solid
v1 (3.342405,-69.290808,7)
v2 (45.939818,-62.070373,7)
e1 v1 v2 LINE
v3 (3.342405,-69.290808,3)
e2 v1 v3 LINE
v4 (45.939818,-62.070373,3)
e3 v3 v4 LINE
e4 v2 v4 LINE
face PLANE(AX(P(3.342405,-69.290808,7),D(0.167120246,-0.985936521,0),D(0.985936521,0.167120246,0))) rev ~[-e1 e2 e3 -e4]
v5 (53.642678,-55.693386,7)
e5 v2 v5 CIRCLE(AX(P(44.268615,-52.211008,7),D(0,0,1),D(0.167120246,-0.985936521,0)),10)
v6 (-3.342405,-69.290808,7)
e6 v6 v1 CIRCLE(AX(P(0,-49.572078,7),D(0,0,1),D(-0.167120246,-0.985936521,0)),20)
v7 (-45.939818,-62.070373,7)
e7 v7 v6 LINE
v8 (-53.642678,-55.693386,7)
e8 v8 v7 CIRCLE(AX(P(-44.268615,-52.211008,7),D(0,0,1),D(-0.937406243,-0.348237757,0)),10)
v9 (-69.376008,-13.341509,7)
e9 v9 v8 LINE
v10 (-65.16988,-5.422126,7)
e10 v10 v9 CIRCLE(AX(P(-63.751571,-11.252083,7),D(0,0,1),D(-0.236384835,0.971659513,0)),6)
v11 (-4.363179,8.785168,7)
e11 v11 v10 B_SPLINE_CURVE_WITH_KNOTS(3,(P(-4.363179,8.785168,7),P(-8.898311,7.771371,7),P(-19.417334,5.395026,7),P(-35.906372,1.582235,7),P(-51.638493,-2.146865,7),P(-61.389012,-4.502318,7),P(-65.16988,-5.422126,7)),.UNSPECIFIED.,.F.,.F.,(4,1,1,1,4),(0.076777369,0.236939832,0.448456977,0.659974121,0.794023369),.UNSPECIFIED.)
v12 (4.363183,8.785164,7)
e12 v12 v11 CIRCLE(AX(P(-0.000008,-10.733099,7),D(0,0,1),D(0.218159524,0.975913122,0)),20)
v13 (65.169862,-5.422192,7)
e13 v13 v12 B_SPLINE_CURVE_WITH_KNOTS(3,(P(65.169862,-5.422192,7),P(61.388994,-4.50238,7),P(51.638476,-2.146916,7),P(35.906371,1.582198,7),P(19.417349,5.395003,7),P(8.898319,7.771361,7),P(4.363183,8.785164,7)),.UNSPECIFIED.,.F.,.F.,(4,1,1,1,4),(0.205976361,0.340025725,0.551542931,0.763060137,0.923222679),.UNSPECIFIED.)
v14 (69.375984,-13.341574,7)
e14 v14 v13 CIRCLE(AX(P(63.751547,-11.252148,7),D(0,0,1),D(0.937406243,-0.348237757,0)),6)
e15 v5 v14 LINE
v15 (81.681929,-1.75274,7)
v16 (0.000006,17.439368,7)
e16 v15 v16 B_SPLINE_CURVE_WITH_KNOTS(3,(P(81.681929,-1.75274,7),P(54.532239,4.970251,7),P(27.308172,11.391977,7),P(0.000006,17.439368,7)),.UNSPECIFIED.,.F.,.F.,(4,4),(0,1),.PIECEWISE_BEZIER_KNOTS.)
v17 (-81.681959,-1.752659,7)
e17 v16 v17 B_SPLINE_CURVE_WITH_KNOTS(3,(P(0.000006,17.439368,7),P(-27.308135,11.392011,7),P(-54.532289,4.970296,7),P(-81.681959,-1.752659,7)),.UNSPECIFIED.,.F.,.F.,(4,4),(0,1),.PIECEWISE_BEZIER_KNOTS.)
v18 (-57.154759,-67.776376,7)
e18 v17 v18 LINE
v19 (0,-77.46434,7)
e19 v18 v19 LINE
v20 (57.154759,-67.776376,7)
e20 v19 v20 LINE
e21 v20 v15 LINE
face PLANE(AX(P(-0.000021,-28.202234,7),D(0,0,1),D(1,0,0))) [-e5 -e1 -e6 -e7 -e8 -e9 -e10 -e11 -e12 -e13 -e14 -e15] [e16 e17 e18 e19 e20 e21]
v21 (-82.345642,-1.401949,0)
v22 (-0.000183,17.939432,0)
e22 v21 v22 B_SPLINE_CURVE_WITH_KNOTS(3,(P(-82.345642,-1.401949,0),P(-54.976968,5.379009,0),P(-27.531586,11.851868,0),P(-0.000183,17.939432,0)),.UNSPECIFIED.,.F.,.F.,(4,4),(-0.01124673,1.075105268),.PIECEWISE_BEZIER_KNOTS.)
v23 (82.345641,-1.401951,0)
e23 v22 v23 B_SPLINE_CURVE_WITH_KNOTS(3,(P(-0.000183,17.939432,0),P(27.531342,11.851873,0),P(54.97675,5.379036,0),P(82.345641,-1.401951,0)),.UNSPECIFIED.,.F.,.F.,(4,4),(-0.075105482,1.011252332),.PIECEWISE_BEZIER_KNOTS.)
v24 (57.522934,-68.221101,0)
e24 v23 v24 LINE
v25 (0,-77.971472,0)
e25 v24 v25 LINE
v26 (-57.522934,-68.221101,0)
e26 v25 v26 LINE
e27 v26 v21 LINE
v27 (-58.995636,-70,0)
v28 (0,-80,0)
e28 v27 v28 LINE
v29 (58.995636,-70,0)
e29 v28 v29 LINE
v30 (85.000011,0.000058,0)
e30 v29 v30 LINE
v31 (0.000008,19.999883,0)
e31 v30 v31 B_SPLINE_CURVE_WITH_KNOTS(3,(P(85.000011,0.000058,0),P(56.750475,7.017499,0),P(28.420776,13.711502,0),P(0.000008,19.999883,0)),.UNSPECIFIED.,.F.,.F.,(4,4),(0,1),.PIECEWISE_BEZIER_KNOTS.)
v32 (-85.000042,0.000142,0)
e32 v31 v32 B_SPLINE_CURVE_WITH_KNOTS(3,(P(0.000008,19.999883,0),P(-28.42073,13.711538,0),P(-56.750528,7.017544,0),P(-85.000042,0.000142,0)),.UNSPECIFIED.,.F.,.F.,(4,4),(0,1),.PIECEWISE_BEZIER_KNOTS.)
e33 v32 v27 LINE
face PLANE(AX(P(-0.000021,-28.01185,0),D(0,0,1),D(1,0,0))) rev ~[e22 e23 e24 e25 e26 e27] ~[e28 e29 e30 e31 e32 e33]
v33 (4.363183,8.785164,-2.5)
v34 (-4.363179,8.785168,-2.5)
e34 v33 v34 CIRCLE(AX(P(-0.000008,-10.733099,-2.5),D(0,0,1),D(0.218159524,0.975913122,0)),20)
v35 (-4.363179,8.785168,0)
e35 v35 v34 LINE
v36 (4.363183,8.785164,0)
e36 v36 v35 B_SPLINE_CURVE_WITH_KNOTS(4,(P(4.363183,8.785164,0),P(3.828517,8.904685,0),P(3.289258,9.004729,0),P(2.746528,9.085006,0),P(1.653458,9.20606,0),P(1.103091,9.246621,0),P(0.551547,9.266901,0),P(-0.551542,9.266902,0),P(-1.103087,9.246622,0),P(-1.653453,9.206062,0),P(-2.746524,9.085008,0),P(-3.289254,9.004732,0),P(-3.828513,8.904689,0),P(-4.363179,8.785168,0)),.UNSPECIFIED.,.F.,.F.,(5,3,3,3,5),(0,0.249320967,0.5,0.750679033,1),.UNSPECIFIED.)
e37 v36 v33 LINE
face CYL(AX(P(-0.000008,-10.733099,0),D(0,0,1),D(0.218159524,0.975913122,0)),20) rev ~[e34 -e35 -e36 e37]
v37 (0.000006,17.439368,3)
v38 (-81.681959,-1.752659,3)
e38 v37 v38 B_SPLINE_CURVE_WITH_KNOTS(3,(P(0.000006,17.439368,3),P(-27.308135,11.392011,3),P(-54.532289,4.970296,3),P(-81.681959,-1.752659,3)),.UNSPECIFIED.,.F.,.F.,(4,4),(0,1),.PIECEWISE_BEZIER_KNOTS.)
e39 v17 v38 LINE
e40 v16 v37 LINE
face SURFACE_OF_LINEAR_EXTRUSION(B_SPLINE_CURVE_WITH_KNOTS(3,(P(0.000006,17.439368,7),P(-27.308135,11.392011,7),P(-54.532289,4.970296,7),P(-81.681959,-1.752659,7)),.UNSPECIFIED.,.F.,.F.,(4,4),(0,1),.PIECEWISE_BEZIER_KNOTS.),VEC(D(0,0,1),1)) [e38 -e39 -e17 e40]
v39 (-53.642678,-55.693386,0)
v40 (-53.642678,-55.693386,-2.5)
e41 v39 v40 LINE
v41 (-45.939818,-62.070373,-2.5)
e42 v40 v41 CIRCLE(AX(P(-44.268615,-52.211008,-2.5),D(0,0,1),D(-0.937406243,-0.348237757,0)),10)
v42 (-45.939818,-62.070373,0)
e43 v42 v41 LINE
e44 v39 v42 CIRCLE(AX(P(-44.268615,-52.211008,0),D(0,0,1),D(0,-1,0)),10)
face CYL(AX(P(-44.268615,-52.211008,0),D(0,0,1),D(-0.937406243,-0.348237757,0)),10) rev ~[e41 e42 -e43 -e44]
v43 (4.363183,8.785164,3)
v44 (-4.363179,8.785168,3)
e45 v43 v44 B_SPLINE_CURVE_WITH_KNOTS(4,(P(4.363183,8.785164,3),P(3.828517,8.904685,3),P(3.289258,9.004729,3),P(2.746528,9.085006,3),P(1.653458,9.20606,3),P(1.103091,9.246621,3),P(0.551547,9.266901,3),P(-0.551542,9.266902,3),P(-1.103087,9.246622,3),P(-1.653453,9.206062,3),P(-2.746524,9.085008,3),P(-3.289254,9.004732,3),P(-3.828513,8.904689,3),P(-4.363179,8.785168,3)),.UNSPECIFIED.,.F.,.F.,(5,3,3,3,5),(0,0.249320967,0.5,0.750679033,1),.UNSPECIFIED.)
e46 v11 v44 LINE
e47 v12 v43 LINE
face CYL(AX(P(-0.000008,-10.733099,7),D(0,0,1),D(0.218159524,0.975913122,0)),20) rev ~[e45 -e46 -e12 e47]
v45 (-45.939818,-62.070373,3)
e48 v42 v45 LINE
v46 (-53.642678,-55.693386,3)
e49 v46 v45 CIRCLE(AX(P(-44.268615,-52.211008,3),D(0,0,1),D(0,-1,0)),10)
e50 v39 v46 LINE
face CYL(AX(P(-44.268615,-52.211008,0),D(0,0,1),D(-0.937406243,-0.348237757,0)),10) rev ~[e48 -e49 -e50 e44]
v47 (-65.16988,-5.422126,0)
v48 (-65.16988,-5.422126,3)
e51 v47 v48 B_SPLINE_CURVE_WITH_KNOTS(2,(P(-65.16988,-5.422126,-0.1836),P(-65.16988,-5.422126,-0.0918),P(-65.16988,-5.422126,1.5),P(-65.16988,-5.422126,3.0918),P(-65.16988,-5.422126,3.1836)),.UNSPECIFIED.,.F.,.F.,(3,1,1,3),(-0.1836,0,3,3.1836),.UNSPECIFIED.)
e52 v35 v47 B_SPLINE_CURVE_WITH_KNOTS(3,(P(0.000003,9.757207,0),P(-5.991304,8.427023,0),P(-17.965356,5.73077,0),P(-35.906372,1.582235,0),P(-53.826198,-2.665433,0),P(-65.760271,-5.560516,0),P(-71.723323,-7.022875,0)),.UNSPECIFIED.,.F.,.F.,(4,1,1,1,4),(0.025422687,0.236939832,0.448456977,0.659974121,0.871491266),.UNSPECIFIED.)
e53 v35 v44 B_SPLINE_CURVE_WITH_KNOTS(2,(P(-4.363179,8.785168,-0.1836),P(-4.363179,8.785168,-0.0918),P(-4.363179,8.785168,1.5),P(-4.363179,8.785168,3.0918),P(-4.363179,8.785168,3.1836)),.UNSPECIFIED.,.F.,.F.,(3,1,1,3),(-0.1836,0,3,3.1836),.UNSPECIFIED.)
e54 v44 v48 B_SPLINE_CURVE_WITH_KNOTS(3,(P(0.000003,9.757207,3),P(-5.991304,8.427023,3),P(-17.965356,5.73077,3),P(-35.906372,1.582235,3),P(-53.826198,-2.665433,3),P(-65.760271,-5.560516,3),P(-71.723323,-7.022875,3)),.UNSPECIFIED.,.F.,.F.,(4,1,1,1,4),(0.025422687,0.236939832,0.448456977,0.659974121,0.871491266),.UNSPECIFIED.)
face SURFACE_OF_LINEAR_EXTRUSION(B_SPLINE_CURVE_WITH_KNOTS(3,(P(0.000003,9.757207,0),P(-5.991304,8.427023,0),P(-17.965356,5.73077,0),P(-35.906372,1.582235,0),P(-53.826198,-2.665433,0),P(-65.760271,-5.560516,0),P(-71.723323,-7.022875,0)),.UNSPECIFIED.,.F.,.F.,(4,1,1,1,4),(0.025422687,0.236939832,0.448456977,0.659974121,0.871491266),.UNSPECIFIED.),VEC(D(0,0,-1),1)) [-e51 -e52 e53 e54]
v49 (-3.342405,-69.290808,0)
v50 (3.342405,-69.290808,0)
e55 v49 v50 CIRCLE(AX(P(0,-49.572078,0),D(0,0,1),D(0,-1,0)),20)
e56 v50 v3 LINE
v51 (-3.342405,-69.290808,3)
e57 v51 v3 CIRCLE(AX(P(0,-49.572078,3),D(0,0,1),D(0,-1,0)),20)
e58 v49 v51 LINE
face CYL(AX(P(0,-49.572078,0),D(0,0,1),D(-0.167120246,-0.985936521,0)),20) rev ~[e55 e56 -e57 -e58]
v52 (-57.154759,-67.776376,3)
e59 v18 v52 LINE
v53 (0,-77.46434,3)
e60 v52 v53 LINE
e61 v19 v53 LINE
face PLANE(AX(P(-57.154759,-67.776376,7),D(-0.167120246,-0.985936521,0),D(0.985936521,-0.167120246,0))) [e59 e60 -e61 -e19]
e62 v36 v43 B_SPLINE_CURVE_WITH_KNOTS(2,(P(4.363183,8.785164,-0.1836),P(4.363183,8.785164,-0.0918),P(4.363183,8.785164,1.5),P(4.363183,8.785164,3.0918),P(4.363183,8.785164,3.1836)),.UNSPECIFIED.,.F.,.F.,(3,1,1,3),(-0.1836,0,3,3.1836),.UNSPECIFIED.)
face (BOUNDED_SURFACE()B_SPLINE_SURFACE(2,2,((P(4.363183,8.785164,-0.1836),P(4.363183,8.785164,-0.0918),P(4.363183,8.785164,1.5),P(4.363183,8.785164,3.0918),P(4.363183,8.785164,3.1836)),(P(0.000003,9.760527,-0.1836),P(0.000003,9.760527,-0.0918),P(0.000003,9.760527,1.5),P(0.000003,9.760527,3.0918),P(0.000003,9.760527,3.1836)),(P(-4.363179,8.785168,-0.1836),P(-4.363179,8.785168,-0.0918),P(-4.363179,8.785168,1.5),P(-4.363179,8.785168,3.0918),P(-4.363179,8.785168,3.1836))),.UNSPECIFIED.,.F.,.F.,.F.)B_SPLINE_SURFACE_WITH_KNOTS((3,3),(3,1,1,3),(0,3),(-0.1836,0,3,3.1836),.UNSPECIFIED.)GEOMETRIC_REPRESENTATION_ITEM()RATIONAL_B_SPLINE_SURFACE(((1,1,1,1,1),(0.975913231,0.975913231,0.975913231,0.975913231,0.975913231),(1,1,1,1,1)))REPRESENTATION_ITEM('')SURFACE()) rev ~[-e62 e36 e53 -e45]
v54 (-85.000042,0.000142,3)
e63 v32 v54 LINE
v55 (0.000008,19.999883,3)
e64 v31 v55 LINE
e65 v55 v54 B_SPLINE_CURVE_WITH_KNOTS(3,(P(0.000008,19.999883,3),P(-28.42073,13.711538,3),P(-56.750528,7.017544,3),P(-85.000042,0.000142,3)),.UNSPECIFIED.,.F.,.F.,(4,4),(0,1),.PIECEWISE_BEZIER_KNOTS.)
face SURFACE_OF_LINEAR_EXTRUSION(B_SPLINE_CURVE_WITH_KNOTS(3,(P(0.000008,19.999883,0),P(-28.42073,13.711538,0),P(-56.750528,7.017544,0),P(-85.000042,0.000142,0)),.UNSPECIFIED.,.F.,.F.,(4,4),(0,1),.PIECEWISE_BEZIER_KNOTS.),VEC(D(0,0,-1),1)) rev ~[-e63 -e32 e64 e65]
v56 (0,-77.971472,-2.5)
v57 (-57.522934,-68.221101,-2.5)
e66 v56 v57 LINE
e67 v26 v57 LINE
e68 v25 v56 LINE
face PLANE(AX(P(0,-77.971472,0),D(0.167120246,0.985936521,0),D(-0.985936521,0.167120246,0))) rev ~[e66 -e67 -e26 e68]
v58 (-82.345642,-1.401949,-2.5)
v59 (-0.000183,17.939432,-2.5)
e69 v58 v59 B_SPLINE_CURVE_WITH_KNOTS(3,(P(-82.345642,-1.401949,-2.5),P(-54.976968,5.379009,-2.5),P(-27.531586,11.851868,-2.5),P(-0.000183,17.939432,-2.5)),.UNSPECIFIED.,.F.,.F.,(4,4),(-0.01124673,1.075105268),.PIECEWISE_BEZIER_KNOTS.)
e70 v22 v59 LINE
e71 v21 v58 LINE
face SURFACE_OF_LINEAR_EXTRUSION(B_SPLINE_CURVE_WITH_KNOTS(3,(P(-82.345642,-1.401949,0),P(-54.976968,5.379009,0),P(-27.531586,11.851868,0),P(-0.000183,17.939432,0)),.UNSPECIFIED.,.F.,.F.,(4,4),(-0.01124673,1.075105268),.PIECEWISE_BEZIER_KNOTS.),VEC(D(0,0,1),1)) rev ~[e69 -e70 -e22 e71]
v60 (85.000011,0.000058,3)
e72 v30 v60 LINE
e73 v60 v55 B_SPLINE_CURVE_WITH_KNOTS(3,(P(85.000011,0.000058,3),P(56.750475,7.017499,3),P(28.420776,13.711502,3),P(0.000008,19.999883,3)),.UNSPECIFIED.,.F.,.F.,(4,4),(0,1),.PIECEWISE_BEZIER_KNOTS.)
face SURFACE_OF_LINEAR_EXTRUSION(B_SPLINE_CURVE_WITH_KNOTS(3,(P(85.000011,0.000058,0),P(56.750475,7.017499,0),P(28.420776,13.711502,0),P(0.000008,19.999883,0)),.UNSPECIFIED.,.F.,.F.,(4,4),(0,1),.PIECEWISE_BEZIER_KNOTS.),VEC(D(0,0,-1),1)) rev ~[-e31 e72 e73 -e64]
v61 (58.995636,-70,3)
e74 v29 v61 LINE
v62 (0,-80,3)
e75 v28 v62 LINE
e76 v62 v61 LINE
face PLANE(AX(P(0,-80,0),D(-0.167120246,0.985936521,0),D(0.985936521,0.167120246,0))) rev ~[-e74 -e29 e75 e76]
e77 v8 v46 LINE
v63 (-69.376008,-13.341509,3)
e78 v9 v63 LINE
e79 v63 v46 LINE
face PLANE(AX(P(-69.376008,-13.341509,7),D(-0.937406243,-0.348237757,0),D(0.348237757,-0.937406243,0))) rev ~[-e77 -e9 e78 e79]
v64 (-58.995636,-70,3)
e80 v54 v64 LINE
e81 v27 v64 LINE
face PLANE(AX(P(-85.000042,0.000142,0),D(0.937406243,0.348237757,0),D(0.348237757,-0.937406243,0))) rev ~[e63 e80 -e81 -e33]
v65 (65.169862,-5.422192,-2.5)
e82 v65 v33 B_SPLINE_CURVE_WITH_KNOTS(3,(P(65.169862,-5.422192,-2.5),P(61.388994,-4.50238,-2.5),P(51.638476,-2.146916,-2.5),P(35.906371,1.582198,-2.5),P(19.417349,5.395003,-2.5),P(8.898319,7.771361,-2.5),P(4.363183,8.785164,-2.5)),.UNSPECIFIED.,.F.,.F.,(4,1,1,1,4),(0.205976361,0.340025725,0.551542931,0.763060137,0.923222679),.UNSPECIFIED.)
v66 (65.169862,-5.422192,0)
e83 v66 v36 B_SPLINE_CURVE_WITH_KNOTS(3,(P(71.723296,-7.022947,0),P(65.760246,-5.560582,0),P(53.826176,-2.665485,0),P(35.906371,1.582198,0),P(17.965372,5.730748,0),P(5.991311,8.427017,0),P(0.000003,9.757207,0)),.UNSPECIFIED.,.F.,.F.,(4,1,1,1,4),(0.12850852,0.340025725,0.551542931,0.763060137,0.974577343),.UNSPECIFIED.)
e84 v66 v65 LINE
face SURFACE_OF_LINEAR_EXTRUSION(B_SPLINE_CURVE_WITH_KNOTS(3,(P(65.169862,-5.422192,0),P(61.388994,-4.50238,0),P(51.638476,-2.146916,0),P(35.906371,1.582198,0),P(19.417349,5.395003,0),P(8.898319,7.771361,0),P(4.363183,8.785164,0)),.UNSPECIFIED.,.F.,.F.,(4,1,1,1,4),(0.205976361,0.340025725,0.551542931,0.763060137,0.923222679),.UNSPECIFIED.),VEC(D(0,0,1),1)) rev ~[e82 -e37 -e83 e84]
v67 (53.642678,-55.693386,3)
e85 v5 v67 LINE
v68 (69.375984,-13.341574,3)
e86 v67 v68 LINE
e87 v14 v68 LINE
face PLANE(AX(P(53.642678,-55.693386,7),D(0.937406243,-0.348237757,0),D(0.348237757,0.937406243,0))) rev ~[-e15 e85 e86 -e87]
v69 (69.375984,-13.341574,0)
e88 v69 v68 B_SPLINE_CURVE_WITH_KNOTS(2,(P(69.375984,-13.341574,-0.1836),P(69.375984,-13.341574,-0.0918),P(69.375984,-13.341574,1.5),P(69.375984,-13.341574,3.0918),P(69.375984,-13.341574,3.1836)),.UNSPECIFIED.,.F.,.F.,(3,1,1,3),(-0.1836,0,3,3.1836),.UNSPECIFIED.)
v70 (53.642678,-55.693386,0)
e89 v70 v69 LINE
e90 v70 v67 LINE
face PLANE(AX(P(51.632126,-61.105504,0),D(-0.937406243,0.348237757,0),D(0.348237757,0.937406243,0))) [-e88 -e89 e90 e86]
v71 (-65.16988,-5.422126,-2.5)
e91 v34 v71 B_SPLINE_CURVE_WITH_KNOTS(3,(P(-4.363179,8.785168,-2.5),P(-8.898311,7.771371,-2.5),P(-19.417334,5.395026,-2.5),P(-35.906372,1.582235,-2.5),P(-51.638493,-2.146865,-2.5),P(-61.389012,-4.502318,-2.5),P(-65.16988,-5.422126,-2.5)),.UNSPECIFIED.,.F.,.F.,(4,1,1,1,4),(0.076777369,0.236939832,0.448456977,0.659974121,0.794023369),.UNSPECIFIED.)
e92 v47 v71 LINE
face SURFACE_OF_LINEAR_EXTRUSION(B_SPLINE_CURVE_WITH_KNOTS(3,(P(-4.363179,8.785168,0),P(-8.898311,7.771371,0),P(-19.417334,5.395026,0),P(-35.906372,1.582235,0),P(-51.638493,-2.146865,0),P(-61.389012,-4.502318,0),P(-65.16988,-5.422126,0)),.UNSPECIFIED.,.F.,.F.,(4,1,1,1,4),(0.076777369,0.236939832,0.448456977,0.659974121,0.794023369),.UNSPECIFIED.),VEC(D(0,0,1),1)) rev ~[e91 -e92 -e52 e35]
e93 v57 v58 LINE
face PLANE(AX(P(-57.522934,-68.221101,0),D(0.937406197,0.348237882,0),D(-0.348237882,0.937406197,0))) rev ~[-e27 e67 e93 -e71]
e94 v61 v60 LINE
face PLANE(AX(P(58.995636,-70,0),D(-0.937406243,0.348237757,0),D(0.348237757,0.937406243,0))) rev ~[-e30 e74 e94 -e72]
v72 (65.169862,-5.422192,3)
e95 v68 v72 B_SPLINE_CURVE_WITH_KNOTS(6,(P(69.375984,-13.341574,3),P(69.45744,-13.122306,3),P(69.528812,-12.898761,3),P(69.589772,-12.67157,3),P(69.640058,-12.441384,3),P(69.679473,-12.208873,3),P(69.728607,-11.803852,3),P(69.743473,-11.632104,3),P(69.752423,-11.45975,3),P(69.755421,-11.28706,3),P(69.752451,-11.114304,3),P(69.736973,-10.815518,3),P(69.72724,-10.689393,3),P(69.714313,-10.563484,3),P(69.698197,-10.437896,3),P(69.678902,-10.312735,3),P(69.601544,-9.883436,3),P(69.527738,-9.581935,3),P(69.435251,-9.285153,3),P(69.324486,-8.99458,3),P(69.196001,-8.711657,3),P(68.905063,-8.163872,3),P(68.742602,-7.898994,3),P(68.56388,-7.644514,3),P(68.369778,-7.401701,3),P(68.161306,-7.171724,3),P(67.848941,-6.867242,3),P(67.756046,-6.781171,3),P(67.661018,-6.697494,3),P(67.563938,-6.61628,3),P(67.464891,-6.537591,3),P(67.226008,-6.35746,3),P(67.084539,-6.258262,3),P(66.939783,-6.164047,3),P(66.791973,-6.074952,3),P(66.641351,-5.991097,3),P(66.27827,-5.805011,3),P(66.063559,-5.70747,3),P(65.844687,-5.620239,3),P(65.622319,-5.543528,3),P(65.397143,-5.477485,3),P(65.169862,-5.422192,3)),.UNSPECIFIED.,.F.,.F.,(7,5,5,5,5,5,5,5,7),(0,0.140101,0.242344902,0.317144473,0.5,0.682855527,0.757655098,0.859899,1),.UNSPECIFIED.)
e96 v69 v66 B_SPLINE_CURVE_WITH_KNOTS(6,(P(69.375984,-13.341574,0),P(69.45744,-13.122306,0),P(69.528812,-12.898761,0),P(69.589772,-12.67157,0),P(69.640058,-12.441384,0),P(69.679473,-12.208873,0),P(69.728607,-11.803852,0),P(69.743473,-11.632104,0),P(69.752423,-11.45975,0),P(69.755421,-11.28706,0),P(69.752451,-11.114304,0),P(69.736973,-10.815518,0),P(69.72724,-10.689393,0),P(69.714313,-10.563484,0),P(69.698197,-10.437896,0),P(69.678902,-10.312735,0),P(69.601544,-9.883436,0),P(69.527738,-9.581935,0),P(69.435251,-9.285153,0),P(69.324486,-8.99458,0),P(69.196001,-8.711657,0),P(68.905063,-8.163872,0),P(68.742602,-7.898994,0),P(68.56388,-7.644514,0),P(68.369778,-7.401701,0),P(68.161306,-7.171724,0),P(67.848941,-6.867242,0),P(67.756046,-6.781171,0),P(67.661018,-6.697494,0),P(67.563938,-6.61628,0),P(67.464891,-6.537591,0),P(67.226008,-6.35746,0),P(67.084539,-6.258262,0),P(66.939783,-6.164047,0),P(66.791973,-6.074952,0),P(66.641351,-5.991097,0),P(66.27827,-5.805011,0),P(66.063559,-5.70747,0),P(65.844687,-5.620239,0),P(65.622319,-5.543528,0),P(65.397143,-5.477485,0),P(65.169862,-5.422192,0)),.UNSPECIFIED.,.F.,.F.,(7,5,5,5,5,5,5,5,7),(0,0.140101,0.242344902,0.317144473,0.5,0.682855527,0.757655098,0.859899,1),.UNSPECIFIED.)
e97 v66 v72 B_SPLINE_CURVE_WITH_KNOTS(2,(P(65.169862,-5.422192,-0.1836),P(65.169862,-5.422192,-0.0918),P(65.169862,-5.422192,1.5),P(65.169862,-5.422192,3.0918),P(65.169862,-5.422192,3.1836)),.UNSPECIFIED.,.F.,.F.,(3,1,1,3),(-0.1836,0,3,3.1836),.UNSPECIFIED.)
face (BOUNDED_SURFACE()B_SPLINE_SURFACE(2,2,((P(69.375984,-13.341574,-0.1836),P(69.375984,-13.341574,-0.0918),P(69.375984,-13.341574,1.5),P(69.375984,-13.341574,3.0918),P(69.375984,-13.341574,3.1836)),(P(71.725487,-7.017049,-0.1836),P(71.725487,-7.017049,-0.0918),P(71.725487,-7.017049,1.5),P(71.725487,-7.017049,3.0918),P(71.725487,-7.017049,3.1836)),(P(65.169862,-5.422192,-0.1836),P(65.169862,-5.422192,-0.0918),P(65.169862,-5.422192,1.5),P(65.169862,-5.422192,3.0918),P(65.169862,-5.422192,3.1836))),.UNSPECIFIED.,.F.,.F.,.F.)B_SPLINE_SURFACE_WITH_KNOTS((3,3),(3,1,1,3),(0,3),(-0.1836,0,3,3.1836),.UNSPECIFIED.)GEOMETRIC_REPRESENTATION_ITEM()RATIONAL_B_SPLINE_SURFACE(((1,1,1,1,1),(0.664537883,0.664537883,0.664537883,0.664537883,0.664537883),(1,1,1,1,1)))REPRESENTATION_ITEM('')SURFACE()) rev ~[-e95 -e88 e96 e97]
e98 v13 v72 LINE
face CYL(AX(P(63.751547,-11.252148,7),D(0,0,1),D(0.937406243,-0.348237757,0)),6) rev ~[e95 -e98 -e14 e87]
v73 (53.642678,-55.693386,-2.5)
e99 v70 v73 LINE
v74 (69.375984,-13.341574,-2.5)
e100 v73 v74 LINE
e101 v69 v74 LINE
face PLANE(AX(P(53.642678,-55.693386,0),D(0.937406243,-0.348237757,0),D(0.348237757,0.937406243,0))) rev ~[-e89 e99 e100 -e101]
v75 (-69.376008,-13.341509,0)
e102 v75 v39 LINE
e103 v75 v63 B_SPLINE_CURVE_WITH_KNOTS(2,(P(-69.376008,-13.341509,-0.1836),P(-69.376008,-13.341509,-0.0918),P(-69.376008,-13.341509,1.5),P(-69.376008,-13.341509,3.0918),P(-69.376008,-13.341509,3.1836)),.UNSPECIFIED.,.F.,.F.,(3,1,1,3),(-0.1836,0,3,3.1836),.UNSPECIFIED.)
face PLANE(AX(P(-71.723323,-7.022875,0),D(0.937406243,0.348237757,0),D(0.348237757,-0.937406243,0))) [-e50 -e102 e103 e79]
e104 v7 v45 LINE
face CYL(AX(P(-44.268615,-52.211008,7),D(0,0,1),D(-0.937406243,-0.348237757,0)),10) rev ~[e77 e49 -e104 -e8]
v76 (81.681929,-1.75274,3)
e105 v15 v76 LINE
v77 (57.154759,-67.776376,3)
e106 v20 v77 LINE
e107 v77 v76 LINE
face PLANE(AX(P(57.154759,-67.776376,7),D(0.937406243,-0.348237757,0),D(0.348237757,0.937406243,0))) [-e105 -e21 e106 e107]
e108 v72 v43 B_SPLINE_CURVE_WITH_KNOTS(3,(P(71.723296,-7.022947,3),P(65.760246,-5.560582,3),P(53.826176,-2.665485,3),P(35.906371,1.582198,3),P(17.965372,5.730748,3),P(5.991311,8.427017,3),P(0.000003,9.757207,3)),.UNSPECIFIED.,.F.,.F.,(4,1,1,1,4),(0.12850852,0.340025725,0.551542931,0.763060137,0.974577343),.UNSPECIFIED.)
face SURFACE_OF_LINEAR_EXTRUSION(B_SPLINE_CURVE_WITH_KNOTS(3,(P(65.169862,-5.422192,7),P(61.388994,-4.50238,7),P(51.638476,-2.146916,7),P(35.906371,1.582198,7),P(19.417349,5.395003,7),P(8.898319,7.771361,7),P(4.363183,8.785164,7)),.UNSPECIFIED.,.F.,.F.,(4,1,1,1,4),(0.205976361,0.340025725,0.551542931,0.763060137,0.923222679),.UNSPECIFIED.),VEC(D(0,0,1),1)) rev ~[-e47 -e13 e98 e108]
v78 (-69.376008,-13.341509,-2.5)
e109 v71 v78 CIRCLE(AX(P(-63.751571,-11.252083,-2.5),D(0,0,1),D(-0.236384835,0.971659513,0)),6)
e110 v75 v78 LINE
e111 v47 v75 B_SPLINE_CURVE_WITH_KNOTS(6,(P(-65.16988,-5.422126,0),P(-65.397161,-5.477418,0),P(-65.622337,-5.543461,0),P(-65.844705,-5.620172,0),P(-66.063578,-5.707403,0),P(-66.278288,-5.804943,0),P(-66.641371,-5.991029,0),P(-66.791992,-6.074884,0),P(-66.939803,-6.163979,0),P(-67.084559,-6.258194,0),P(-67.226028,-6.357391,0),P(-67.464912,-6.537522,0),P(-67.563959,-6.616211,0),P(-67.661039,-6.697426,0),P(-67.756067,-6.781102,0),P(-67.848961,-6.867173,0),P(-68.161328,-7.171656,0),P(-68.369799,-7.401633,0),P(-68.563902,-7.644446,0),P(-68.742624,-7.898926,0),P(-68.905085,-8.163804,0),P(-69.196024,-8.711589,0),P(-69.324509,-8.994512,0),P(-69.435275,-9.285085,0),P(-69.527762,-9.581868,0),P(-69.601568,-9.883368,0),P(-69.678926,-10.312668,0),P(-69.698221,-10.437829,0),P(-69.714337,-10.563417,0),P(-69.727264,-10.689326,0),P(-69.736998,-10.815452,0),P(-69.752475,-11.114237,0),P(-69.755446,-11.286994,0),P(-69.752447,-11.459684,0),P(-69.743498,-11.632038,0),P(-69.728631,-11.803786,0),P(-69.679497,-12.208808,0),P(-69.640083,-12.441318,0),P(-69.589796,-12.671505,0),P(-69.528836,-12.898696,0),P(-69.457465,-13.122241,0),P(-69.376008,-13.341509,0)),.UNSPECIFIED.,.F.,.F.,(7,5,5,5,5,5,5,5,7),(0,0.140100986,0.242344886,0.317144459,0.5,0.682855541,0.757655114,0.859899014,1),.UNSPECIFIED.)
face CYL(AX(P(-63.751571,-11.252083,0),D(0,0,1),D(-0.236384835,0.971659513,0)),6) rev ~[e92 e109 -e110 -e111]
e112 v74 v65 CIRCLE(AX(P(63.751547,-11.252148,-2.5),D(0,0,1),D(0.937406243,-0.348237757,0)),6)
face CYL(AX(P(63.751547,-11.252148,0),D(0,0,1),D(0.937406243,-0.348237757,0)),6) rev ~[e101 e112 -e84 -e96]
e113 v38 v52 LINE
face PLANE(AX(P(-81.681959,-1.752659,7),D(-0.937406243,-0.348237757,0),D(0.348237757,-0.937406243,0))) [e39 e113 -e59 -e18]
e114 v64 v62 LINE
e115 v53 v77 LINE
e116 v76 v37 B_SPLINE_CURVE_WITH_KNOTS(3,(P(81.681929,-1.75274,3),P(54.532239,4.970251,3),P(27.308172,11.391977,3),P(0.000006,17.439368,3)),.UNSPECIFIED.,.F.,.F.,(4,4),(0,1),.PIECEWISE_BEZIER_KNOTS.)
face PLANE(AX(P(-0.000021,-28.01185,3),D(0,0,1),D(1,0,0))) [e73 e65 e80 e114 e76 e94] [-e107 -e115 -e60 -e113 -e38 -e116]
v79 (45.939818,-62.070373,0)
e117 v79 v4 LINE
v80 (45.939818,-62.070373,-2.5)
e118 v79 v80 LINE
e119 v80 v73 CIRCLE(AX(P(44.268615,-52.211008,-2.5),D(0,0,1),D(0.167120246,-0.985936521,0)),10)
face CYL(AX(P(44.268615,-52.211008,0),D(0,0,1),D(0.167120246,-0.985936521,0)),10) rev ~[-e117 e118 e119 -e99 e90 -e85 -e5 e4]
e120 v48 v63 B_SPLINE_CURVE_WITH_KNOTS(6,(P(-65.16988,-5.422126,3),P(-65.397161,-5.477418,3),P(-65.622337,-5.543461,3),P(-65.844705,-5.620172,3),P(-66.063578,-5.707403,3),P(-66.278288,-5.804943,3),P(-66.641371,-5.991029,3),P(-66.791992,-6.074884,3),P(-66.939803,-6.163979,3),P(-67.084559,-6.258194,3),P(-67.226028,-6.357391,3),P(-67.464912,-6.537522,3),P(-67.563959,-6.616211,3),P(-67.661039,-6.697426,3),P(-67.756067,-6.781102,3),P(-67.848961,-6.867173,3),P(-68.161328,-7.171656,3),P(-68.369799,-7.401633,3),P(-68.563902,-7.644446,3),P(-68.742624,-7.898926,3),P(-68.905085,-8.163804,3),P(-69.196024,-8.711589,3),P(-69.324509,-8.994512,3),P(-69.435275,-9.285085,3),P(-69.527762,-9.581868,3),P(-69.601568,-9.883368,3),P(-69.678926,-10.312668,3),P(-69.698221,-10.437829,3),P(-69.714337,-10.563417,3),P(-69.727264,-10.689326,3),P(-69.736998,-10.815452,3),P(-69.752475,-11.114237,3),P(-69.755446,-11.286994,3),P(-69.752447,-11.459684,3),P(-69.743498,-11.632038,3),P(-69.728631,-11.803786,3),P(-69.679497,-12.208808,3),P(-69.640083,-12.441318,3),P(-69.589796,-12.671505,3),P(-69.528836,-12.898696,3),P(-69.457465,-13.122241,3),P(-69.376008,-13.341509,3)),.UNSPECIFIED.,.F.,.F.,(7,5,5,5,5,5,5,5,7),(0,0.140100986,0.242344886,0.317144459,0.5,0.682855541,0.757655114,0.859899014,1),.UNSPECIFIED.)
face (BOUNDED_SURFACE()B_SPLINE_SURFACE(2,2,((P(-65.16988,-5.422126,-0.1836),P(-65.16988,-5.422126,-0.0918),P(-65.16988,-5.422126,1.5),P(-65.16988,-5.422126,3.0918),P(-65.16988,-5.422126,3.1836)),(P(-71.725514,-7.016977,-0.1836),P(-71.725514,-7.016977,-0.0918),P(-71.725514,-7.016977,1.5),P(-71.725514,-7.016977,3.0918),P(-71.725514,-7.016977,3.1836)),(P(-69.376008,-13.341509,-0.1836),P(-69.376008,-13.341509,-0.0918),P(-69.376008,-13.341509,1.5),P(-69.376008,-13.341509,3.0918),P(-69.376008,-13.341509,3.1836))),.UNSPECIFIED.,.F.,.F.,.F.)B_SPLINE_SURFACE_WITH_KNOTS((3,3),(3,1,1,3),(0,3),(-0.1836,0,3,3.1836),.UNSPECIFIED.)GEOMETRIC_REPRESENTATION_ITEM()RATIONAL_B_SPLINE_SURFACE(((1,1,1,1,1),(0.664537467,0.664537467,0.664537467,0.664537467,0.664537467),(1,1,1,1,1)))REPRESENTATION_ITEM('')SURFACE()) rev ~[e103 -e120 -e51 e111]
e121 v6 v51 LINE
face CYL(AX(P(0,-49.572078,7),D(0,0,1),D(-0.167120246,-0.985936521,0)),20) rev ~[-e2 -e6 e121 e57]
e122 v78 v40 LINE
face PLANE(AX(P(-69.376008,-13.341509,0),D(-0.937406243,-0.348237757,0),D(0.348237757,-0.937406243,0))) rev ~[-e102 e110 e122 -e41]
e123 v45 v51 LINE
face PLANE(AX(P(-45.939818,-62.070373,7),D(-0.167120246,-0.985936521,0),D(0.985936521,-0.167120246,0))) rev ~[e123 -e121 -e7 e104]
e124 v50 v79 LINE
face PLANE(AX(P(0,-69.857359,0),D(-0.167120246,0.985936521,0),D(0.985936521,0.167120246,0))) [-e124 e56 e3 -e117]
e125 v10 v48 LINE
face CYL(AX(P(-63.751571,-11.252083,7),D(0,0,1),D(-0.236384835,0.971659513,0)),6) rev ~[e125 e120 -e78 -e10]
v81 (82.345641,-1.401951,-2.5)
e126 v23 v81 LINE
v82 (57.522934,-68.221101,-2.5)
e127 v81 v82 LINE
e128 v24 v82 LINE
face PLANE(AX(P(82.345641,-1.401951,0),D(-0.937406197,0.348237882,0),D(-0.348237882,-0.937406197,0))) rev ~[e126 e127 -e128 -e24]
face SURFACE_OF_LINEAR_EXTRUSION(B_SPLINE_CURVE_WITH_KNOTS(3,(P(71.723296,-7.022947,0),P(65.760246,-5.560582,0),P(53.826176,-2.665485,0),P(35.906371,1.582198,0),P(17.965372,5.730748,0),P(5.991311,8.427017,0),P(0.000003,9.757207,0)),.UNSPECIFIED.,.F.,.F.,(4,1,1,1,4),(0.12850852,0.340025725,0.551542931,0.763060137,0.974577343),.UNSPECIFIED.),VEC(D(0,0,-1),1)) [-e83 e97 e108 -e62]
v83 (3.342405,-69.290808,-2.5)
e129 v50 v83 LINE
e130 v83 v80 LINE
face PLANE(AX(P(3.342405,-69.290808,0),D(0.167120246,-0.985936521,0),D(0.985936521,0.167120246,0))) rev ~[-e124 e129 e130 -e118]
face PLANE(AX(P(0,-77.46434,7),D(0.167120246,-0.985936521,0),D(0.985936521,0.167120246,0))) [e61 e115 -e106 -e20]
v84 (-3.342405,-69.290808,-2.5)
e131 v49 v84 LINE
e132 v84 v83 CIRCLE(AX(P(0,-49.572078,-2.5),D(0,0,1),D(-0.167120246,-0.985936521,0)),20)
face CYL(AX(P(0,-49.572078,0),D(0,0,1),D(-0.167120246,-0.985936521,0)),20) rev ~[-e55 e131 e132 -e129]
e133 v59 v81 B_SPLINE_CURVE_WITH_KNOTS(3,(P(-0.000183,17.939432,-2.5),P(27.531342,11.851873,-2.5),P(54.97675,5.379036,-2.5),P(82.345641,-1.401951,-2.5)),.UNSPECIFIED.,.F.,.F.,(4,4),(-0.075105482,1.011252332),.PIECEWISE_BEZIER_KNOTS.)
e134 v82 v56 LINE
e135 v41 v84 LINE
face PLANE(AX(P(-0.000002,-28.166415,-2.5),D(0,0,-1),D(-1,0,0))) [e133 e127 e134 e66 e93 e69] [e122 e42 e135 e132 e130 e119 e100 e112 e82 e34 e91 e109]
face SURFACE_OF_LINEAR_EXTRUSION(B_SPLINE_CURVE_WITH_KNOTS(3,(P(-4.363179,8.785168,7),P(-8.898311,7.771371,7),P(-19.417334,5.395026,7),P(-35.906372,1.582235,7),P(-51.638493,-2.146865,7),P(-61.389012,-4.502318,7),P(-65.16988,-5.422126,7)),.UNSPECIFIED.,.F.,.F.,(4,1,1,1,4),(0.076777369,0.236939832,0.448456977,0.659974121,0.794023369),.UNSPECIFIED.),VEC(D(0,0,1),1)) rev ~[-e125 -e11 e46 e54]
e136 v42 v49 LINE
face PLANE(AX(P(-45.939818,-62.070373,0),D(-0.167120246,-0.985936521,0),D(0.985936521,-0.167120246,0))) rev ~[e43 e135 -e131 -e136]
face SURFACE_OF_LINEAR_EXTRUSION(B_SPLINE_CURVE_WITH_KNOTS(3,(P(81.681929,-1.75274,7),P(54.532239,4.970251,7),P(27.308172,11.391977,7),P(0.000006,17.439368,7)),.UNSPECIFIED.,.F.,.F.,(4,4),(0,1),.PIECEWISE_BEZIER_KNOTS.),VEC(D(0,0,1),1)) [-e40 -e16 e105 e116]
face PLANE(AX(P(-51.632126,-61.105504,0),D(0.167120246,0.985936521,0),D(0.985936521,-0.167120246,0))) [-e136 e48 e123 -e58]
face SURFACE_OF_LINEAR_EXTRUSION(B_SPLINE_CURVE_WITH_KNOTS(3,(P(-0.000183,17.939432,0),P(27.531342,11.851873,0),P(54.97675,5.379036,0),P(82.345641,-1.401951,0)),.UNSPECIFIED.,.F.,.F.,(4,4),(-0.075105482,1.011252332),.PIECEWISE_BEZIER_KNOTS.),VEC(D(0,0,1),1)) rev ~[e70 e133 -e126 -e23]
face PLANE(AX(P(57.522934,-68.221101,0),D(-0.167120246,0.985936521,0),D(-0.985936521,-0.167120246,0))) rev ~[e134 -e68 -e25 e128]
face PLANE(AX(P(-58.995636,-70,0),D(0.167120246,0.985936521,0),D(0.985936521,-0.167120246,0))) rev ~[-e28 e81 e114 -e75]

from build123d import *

# Parameters (mm, degrees)
BOSS_EXTRUDE1_DEPTH = 3
FILLET1_R           = 20
FILLET2_R           = 10
FILLET3_R           = 6
BOSS_EXTRUDE2_START = 4
BOSS_EXTRUDE2_DEPTH = 4
BOSS_EXTRUDE3_DEPTH = 2.5


with BuildPart() as part:
    # Sketch1 → Boss-Extrude1 (new body)
    with BuildSketch(Plane.XY):
        with BuildLine():
            Line((58.995636199, -70), (85.000010905, 5.7991e-05))
            add(Edge.make_bspline(
                [(85.000010905, 5.7991e-05), (56.750474686, 7.0174992), (28.420775895, 13.71150164), (7.678e-06, 19.999882532)],
                knots=[0, 0, 0, 0, 1, 1, 1, 1], degree=3))
            add(Edge.make_bspline(
                [(7.678e-06, 19.999882532), (-28.420729921, 13.711538103), (-56.750527687, 7.017544413), (-85.000042152, 0.000142104)],
                knots=[0, 0, 0, 0, 1, 1, 1, 1], degree=3))
            Line((-85.000042152, 0.000142104), (-58.995636199, -70))
            Line((-58.995636199, -70), (0, -80))
            Line((0, -80), (58.995636199, -70))
        make_face()
        with BuildLine():
            Line((51.632125707, -61.105504126), (71.72329576, -7.02294745))
            add(Edge.make_bspline(
                [(71.72329576, -7.02294745), (65.760246295, -5.560581522), (53.826176048, -2.665485282), (35.906371118, 1.582198174), (17.96537234, 5.730748209), (5.991311045, 8.427016674), (2.578e-06, 9.757206823)],
                knots=[0.12850852, 0.12850852, 0.12850852, 0.12850852, 0.340025725, 0.551542931, 0.763060137, 0.974577343, 0.974577343, 0.974577343, 0.974577343], degree=3))
            add(Edge.make_bspline(
                [(2.578e-06, 9.757206823), (-5.991303797, 8.427023399), (-17.965355756, 5.730769647), (-35.906372035, 1.582235194), (-53.826198007, -2.665432907), (-65.760270504, -5.560515659), (-71.723322613, -7.022875166)],
                knots=[0.025422687, 0.025422687, 0.025422687, 0.025422687, 0.236939832, 0.448456977, 0.659974121, 0.871491266, 0.871491266, 0.871491266, 0.871491266], degree=3))
            Line((-71.723322613, -7.022875166), (-51.632125707, -61.105504126))
            Line((-51.632125707, -61.105504126), (0, -69.857359184))
            Line((0, -69.857359184), (51.632125707, -61.105504126))
        make_face(mode=Mode.SUBTRACT)
    extrude(amount=BOSS_EXTRUDE1_DEPTH)

    # Fillet1
    fillet1_edges = [part.edges().sort_by_distance(p)[0] for p in [
        (0, -69.857359184, 1.5),
        (2.578e-06, 9.757206823, 1.5),
    ]]
    fillet(fillet1_edges, radius=FILLET1_R)

    # Fillet2
    fillet2_edges = [part.edges().sort_by_distance(p)[0] for p in [
        (51.632125707, -61.105504126, 1.5),
        (-51.632125707, -61.105504126, 1.5),
    ]]
    fillet(fillet2_edges, radius=FILLET2_R)

    # Fillet3
    fillet3_edges = [part.edges().sort_by_distance(p)[0] for p in [
        (71.72329576, -7.02294745, 1.5),
        (-71.723322613, -7.022875166, 1.5),
    ]]
    fillet(fillet3_edges, radius=FILLET3_R)

    # Sketch2 → Boss-Extrude2 (add)
    with BuildSketch(Plane.XY.offset(3).offset(BOSS_EXTRUDE2_START)):
        with BuildLine():
            Line((-81.681959277, -1.75265922), (-57.154758576, -67.776376032))
            Line((-57.154758576, -67.776376032), (0, -77.464339796))
            Line((0, -77.464339796), (57.154758576, -67.776376032))
            Line((57.154758576, -67.776376032), (81.681929126, -1.752740382))
            add(Edge.make_bspline(
                [(81.681929126, -1.752740382), (54.532239341, 4.970251393), (27.308171531, 11.391977282), (6.404e-06, 17.439367697)],
                knots=[0, 0, 0, 0, 1, 1, 1, 1], degree=3))
            add(Edge.make_bspline(
                [(6.404e-06, 17.439367697), (-27.308135136, 11.392011032), (-54.532288876, 4.970295529), (-81.681959277, -1.75265922)],
                knots=[0, 0, 0, 0, 1, 1, 1, 1], degree=3))
        make_face()
        with BuildLine():
            Line((-69.376008475, -13.341509152), (-53.642677645, -55.693385824))
            ThreePointArc((-53.642677645, -55.693385824), (-50.645602116, -59.913867336), (-45.939817671, -62.070373463))
            Line((-45.939817671, -62.070373463), (-3.342404912, -69.290807973))
            ThreePointArc((-3.342404912, -69.290807973), (0, -69.572077553), (3.342404912, -69.290807973))
            Line((3.342404912, -69.290807973), (45.939817671, -62.070373463))
            ThreePointArc((45.939817671, -62.070373463), (50.645602116, -59.913867336), (53.642677645, -55.693385824))
            Line((53.642677645, -55.693385824), (69.375984259, -13.341574337))
            ThreePointArc((69.375984259, -13.341574337), (69.05053211, -8.437764256), (65.169862303, -5.422192294))
            add(Edge.make_bspline(
                [(65.169862303, -5.422192294), (61.388993913, -4.502380085), (51.638475989, -2.146916169), (35.906371118, 1.582198174), (19.417348722, 5.39500343), (8.898318707, 7.771361324), (4.363182833, 8.785163741)],
                knots=[0.205976361, 0.205976361, 0.205976361, 0.205976361, 0.340025725, 0.551542931, 0.763060137, 0.923222679, 0.923222679, 0.923222679, 0.923222679], degree=3))
            ThreePointArc((4.363182833, 8.785163741), (2.348e-06, 9.266901295), (-4.363178618, 8.785168098))
            add(Edge.make_bspline(
                [(-4.363178618, 8.785168098), (-8.898311373, 7.771371135), (-19.41733449, 5.395025913), (-35.906372035, 1.582235194), (-51.638493171, -2.146865145), (-61.389012491, -4.502317987), (-65.169880027, -5.422125529)],
                knots=[0.076777369, 0.076777369, 0.076777369, 0.076777369, 0.236939832, 0.448456977, 0.659974121, 0.794023369, 0.794023369, 0.794023369, 0.794023369], degree=3))
            ThreePointArc((-65.169880027, -5.422125529), (-69.050554759, -8.437696121), (-69.376008475, -13.341509152))
        make_face(mode=Mode.SUBTRACT)
    extrude(amount=-BOSS_EXTRUDE2_DEPTH)

    # Sketch3 → Boss-Extrude3 (add)
    with BuildSketch(Plane(origin=(0, 0, 0), x_dir=(-1, 0, 0), z_dir=(0, 0, -1))):
        with BuildLine():
            Line((57.522934276, -68.221100795), (82.345641792, -1.401949233))
            add(Edge.make_bspline(
                [(82.345641792, -1.401949233), (54.976968444, 5.379009049), (27.531586141, 11.851868369), (0.000183244, 17.939432259)],
                knots=[-0.01124673, -0.01124673, -0.01124673, -0.01124673, 1.075105268, 1.075105268, 1.075105268, 1.075105268], degree=3))
            add(Edge.make_bspline(
                [(0.000183244, 17.939432259), (-27.531342023, 11.851872874), (-54.976750263, 5.379036047), (-82.345641148, -1.401950967)],
                knots=[-0.075105482, -0.075105482, -0.075105482, -0.075105482, 1.011252332, 1.011252332, 1.011252332, 1.011252332], degree=3))
            Line((-82.345641148, -1.401950967), (-57.522934276, -68.221100795))
            Line((-57.522934276, -68.221100795), (0, -77.971471837))
            Line((0, -77.971471837), (57.522934276, -68.221100795))
        make_face()
        with BuildLine():
            Line((-53.642677645, -55.693385824), (-69.375984259, -13.341574337))
            ThreePointArc((-69.375984259, -13.341574337), (-69.05053211, -8.437764256), (-65.169862303, -5.422192294))
            add(Edge.make_bspline(
                [(-65.169862303, -5.422192294), (-61.388993913, -4.502380085), (-51.638475989, -2.146916169), (-35.906371118, 1.582198174), (-19.417348722, 5.39500343), (-8.898318707, 7.771361324), (-4.363182833, 8.785163741)],
                knots=[0.205976361, 0.205976361, 0.205976361, 0.205976361, 0.340025725, 0.551542931, 0.763060137, 0.923222679, 0.923222679, 0.923222679, 0.923222679], degree=3))
            ThreePointArc((-4.363182833, 8.785163741), (-2.348e-06, 9.266901295), (4.363178618, 8.785168098))
            add(Edge.make_bspline(
                [(4.363178618, 8.785168098), (8.898311373, 7.771371135), (19.41733449, 5.395025913), (35.906372035, 1.582235194), (51.638493171, -2.146865145), (61.389012491, -4.502317987), (65.169880027, -5.422125529)],
                knots=[0.076777369, 0.076777369, 0.076777369, 0.076777369, 0.236939832, 0.448456977, 0.659974121, 0.794023369, 0.794023369, 0.794023369, 0.794023369], degree=3))
            ThreePointArc((65.169880027, -5.422125529), (69.050554759, -8.437696121), (69.376008475, -13.341509152))
            Line((69.376008475, -13.341509152), (53.642677645, -55.693385824))
            ThreePointArc((53.642677645, -55.693385824), (50.645602116, -59.913867336), (45.939817671, -62.070373463))
            Line((45.939817671, -62.070373463), (3.342404912, -69.290807973))
            ThreePointArc((3.342404912, -69.290807973), (0, -69.572077553), (-3.342404912, -69.290807973))
            Line((-3.342404912, -69.290807973), (-45.939817671, -62.070373463))
            ThreePointArc((-45.939817671, -62.070373463), (-50.645602116, -59.913867336), (-53.642677645, -55.693385824))
        make_face(mode=Mode.SUBTRACT)
    extrude(amount=BOSS_EXTRUDE3_DEPTH)


solid = part.part
